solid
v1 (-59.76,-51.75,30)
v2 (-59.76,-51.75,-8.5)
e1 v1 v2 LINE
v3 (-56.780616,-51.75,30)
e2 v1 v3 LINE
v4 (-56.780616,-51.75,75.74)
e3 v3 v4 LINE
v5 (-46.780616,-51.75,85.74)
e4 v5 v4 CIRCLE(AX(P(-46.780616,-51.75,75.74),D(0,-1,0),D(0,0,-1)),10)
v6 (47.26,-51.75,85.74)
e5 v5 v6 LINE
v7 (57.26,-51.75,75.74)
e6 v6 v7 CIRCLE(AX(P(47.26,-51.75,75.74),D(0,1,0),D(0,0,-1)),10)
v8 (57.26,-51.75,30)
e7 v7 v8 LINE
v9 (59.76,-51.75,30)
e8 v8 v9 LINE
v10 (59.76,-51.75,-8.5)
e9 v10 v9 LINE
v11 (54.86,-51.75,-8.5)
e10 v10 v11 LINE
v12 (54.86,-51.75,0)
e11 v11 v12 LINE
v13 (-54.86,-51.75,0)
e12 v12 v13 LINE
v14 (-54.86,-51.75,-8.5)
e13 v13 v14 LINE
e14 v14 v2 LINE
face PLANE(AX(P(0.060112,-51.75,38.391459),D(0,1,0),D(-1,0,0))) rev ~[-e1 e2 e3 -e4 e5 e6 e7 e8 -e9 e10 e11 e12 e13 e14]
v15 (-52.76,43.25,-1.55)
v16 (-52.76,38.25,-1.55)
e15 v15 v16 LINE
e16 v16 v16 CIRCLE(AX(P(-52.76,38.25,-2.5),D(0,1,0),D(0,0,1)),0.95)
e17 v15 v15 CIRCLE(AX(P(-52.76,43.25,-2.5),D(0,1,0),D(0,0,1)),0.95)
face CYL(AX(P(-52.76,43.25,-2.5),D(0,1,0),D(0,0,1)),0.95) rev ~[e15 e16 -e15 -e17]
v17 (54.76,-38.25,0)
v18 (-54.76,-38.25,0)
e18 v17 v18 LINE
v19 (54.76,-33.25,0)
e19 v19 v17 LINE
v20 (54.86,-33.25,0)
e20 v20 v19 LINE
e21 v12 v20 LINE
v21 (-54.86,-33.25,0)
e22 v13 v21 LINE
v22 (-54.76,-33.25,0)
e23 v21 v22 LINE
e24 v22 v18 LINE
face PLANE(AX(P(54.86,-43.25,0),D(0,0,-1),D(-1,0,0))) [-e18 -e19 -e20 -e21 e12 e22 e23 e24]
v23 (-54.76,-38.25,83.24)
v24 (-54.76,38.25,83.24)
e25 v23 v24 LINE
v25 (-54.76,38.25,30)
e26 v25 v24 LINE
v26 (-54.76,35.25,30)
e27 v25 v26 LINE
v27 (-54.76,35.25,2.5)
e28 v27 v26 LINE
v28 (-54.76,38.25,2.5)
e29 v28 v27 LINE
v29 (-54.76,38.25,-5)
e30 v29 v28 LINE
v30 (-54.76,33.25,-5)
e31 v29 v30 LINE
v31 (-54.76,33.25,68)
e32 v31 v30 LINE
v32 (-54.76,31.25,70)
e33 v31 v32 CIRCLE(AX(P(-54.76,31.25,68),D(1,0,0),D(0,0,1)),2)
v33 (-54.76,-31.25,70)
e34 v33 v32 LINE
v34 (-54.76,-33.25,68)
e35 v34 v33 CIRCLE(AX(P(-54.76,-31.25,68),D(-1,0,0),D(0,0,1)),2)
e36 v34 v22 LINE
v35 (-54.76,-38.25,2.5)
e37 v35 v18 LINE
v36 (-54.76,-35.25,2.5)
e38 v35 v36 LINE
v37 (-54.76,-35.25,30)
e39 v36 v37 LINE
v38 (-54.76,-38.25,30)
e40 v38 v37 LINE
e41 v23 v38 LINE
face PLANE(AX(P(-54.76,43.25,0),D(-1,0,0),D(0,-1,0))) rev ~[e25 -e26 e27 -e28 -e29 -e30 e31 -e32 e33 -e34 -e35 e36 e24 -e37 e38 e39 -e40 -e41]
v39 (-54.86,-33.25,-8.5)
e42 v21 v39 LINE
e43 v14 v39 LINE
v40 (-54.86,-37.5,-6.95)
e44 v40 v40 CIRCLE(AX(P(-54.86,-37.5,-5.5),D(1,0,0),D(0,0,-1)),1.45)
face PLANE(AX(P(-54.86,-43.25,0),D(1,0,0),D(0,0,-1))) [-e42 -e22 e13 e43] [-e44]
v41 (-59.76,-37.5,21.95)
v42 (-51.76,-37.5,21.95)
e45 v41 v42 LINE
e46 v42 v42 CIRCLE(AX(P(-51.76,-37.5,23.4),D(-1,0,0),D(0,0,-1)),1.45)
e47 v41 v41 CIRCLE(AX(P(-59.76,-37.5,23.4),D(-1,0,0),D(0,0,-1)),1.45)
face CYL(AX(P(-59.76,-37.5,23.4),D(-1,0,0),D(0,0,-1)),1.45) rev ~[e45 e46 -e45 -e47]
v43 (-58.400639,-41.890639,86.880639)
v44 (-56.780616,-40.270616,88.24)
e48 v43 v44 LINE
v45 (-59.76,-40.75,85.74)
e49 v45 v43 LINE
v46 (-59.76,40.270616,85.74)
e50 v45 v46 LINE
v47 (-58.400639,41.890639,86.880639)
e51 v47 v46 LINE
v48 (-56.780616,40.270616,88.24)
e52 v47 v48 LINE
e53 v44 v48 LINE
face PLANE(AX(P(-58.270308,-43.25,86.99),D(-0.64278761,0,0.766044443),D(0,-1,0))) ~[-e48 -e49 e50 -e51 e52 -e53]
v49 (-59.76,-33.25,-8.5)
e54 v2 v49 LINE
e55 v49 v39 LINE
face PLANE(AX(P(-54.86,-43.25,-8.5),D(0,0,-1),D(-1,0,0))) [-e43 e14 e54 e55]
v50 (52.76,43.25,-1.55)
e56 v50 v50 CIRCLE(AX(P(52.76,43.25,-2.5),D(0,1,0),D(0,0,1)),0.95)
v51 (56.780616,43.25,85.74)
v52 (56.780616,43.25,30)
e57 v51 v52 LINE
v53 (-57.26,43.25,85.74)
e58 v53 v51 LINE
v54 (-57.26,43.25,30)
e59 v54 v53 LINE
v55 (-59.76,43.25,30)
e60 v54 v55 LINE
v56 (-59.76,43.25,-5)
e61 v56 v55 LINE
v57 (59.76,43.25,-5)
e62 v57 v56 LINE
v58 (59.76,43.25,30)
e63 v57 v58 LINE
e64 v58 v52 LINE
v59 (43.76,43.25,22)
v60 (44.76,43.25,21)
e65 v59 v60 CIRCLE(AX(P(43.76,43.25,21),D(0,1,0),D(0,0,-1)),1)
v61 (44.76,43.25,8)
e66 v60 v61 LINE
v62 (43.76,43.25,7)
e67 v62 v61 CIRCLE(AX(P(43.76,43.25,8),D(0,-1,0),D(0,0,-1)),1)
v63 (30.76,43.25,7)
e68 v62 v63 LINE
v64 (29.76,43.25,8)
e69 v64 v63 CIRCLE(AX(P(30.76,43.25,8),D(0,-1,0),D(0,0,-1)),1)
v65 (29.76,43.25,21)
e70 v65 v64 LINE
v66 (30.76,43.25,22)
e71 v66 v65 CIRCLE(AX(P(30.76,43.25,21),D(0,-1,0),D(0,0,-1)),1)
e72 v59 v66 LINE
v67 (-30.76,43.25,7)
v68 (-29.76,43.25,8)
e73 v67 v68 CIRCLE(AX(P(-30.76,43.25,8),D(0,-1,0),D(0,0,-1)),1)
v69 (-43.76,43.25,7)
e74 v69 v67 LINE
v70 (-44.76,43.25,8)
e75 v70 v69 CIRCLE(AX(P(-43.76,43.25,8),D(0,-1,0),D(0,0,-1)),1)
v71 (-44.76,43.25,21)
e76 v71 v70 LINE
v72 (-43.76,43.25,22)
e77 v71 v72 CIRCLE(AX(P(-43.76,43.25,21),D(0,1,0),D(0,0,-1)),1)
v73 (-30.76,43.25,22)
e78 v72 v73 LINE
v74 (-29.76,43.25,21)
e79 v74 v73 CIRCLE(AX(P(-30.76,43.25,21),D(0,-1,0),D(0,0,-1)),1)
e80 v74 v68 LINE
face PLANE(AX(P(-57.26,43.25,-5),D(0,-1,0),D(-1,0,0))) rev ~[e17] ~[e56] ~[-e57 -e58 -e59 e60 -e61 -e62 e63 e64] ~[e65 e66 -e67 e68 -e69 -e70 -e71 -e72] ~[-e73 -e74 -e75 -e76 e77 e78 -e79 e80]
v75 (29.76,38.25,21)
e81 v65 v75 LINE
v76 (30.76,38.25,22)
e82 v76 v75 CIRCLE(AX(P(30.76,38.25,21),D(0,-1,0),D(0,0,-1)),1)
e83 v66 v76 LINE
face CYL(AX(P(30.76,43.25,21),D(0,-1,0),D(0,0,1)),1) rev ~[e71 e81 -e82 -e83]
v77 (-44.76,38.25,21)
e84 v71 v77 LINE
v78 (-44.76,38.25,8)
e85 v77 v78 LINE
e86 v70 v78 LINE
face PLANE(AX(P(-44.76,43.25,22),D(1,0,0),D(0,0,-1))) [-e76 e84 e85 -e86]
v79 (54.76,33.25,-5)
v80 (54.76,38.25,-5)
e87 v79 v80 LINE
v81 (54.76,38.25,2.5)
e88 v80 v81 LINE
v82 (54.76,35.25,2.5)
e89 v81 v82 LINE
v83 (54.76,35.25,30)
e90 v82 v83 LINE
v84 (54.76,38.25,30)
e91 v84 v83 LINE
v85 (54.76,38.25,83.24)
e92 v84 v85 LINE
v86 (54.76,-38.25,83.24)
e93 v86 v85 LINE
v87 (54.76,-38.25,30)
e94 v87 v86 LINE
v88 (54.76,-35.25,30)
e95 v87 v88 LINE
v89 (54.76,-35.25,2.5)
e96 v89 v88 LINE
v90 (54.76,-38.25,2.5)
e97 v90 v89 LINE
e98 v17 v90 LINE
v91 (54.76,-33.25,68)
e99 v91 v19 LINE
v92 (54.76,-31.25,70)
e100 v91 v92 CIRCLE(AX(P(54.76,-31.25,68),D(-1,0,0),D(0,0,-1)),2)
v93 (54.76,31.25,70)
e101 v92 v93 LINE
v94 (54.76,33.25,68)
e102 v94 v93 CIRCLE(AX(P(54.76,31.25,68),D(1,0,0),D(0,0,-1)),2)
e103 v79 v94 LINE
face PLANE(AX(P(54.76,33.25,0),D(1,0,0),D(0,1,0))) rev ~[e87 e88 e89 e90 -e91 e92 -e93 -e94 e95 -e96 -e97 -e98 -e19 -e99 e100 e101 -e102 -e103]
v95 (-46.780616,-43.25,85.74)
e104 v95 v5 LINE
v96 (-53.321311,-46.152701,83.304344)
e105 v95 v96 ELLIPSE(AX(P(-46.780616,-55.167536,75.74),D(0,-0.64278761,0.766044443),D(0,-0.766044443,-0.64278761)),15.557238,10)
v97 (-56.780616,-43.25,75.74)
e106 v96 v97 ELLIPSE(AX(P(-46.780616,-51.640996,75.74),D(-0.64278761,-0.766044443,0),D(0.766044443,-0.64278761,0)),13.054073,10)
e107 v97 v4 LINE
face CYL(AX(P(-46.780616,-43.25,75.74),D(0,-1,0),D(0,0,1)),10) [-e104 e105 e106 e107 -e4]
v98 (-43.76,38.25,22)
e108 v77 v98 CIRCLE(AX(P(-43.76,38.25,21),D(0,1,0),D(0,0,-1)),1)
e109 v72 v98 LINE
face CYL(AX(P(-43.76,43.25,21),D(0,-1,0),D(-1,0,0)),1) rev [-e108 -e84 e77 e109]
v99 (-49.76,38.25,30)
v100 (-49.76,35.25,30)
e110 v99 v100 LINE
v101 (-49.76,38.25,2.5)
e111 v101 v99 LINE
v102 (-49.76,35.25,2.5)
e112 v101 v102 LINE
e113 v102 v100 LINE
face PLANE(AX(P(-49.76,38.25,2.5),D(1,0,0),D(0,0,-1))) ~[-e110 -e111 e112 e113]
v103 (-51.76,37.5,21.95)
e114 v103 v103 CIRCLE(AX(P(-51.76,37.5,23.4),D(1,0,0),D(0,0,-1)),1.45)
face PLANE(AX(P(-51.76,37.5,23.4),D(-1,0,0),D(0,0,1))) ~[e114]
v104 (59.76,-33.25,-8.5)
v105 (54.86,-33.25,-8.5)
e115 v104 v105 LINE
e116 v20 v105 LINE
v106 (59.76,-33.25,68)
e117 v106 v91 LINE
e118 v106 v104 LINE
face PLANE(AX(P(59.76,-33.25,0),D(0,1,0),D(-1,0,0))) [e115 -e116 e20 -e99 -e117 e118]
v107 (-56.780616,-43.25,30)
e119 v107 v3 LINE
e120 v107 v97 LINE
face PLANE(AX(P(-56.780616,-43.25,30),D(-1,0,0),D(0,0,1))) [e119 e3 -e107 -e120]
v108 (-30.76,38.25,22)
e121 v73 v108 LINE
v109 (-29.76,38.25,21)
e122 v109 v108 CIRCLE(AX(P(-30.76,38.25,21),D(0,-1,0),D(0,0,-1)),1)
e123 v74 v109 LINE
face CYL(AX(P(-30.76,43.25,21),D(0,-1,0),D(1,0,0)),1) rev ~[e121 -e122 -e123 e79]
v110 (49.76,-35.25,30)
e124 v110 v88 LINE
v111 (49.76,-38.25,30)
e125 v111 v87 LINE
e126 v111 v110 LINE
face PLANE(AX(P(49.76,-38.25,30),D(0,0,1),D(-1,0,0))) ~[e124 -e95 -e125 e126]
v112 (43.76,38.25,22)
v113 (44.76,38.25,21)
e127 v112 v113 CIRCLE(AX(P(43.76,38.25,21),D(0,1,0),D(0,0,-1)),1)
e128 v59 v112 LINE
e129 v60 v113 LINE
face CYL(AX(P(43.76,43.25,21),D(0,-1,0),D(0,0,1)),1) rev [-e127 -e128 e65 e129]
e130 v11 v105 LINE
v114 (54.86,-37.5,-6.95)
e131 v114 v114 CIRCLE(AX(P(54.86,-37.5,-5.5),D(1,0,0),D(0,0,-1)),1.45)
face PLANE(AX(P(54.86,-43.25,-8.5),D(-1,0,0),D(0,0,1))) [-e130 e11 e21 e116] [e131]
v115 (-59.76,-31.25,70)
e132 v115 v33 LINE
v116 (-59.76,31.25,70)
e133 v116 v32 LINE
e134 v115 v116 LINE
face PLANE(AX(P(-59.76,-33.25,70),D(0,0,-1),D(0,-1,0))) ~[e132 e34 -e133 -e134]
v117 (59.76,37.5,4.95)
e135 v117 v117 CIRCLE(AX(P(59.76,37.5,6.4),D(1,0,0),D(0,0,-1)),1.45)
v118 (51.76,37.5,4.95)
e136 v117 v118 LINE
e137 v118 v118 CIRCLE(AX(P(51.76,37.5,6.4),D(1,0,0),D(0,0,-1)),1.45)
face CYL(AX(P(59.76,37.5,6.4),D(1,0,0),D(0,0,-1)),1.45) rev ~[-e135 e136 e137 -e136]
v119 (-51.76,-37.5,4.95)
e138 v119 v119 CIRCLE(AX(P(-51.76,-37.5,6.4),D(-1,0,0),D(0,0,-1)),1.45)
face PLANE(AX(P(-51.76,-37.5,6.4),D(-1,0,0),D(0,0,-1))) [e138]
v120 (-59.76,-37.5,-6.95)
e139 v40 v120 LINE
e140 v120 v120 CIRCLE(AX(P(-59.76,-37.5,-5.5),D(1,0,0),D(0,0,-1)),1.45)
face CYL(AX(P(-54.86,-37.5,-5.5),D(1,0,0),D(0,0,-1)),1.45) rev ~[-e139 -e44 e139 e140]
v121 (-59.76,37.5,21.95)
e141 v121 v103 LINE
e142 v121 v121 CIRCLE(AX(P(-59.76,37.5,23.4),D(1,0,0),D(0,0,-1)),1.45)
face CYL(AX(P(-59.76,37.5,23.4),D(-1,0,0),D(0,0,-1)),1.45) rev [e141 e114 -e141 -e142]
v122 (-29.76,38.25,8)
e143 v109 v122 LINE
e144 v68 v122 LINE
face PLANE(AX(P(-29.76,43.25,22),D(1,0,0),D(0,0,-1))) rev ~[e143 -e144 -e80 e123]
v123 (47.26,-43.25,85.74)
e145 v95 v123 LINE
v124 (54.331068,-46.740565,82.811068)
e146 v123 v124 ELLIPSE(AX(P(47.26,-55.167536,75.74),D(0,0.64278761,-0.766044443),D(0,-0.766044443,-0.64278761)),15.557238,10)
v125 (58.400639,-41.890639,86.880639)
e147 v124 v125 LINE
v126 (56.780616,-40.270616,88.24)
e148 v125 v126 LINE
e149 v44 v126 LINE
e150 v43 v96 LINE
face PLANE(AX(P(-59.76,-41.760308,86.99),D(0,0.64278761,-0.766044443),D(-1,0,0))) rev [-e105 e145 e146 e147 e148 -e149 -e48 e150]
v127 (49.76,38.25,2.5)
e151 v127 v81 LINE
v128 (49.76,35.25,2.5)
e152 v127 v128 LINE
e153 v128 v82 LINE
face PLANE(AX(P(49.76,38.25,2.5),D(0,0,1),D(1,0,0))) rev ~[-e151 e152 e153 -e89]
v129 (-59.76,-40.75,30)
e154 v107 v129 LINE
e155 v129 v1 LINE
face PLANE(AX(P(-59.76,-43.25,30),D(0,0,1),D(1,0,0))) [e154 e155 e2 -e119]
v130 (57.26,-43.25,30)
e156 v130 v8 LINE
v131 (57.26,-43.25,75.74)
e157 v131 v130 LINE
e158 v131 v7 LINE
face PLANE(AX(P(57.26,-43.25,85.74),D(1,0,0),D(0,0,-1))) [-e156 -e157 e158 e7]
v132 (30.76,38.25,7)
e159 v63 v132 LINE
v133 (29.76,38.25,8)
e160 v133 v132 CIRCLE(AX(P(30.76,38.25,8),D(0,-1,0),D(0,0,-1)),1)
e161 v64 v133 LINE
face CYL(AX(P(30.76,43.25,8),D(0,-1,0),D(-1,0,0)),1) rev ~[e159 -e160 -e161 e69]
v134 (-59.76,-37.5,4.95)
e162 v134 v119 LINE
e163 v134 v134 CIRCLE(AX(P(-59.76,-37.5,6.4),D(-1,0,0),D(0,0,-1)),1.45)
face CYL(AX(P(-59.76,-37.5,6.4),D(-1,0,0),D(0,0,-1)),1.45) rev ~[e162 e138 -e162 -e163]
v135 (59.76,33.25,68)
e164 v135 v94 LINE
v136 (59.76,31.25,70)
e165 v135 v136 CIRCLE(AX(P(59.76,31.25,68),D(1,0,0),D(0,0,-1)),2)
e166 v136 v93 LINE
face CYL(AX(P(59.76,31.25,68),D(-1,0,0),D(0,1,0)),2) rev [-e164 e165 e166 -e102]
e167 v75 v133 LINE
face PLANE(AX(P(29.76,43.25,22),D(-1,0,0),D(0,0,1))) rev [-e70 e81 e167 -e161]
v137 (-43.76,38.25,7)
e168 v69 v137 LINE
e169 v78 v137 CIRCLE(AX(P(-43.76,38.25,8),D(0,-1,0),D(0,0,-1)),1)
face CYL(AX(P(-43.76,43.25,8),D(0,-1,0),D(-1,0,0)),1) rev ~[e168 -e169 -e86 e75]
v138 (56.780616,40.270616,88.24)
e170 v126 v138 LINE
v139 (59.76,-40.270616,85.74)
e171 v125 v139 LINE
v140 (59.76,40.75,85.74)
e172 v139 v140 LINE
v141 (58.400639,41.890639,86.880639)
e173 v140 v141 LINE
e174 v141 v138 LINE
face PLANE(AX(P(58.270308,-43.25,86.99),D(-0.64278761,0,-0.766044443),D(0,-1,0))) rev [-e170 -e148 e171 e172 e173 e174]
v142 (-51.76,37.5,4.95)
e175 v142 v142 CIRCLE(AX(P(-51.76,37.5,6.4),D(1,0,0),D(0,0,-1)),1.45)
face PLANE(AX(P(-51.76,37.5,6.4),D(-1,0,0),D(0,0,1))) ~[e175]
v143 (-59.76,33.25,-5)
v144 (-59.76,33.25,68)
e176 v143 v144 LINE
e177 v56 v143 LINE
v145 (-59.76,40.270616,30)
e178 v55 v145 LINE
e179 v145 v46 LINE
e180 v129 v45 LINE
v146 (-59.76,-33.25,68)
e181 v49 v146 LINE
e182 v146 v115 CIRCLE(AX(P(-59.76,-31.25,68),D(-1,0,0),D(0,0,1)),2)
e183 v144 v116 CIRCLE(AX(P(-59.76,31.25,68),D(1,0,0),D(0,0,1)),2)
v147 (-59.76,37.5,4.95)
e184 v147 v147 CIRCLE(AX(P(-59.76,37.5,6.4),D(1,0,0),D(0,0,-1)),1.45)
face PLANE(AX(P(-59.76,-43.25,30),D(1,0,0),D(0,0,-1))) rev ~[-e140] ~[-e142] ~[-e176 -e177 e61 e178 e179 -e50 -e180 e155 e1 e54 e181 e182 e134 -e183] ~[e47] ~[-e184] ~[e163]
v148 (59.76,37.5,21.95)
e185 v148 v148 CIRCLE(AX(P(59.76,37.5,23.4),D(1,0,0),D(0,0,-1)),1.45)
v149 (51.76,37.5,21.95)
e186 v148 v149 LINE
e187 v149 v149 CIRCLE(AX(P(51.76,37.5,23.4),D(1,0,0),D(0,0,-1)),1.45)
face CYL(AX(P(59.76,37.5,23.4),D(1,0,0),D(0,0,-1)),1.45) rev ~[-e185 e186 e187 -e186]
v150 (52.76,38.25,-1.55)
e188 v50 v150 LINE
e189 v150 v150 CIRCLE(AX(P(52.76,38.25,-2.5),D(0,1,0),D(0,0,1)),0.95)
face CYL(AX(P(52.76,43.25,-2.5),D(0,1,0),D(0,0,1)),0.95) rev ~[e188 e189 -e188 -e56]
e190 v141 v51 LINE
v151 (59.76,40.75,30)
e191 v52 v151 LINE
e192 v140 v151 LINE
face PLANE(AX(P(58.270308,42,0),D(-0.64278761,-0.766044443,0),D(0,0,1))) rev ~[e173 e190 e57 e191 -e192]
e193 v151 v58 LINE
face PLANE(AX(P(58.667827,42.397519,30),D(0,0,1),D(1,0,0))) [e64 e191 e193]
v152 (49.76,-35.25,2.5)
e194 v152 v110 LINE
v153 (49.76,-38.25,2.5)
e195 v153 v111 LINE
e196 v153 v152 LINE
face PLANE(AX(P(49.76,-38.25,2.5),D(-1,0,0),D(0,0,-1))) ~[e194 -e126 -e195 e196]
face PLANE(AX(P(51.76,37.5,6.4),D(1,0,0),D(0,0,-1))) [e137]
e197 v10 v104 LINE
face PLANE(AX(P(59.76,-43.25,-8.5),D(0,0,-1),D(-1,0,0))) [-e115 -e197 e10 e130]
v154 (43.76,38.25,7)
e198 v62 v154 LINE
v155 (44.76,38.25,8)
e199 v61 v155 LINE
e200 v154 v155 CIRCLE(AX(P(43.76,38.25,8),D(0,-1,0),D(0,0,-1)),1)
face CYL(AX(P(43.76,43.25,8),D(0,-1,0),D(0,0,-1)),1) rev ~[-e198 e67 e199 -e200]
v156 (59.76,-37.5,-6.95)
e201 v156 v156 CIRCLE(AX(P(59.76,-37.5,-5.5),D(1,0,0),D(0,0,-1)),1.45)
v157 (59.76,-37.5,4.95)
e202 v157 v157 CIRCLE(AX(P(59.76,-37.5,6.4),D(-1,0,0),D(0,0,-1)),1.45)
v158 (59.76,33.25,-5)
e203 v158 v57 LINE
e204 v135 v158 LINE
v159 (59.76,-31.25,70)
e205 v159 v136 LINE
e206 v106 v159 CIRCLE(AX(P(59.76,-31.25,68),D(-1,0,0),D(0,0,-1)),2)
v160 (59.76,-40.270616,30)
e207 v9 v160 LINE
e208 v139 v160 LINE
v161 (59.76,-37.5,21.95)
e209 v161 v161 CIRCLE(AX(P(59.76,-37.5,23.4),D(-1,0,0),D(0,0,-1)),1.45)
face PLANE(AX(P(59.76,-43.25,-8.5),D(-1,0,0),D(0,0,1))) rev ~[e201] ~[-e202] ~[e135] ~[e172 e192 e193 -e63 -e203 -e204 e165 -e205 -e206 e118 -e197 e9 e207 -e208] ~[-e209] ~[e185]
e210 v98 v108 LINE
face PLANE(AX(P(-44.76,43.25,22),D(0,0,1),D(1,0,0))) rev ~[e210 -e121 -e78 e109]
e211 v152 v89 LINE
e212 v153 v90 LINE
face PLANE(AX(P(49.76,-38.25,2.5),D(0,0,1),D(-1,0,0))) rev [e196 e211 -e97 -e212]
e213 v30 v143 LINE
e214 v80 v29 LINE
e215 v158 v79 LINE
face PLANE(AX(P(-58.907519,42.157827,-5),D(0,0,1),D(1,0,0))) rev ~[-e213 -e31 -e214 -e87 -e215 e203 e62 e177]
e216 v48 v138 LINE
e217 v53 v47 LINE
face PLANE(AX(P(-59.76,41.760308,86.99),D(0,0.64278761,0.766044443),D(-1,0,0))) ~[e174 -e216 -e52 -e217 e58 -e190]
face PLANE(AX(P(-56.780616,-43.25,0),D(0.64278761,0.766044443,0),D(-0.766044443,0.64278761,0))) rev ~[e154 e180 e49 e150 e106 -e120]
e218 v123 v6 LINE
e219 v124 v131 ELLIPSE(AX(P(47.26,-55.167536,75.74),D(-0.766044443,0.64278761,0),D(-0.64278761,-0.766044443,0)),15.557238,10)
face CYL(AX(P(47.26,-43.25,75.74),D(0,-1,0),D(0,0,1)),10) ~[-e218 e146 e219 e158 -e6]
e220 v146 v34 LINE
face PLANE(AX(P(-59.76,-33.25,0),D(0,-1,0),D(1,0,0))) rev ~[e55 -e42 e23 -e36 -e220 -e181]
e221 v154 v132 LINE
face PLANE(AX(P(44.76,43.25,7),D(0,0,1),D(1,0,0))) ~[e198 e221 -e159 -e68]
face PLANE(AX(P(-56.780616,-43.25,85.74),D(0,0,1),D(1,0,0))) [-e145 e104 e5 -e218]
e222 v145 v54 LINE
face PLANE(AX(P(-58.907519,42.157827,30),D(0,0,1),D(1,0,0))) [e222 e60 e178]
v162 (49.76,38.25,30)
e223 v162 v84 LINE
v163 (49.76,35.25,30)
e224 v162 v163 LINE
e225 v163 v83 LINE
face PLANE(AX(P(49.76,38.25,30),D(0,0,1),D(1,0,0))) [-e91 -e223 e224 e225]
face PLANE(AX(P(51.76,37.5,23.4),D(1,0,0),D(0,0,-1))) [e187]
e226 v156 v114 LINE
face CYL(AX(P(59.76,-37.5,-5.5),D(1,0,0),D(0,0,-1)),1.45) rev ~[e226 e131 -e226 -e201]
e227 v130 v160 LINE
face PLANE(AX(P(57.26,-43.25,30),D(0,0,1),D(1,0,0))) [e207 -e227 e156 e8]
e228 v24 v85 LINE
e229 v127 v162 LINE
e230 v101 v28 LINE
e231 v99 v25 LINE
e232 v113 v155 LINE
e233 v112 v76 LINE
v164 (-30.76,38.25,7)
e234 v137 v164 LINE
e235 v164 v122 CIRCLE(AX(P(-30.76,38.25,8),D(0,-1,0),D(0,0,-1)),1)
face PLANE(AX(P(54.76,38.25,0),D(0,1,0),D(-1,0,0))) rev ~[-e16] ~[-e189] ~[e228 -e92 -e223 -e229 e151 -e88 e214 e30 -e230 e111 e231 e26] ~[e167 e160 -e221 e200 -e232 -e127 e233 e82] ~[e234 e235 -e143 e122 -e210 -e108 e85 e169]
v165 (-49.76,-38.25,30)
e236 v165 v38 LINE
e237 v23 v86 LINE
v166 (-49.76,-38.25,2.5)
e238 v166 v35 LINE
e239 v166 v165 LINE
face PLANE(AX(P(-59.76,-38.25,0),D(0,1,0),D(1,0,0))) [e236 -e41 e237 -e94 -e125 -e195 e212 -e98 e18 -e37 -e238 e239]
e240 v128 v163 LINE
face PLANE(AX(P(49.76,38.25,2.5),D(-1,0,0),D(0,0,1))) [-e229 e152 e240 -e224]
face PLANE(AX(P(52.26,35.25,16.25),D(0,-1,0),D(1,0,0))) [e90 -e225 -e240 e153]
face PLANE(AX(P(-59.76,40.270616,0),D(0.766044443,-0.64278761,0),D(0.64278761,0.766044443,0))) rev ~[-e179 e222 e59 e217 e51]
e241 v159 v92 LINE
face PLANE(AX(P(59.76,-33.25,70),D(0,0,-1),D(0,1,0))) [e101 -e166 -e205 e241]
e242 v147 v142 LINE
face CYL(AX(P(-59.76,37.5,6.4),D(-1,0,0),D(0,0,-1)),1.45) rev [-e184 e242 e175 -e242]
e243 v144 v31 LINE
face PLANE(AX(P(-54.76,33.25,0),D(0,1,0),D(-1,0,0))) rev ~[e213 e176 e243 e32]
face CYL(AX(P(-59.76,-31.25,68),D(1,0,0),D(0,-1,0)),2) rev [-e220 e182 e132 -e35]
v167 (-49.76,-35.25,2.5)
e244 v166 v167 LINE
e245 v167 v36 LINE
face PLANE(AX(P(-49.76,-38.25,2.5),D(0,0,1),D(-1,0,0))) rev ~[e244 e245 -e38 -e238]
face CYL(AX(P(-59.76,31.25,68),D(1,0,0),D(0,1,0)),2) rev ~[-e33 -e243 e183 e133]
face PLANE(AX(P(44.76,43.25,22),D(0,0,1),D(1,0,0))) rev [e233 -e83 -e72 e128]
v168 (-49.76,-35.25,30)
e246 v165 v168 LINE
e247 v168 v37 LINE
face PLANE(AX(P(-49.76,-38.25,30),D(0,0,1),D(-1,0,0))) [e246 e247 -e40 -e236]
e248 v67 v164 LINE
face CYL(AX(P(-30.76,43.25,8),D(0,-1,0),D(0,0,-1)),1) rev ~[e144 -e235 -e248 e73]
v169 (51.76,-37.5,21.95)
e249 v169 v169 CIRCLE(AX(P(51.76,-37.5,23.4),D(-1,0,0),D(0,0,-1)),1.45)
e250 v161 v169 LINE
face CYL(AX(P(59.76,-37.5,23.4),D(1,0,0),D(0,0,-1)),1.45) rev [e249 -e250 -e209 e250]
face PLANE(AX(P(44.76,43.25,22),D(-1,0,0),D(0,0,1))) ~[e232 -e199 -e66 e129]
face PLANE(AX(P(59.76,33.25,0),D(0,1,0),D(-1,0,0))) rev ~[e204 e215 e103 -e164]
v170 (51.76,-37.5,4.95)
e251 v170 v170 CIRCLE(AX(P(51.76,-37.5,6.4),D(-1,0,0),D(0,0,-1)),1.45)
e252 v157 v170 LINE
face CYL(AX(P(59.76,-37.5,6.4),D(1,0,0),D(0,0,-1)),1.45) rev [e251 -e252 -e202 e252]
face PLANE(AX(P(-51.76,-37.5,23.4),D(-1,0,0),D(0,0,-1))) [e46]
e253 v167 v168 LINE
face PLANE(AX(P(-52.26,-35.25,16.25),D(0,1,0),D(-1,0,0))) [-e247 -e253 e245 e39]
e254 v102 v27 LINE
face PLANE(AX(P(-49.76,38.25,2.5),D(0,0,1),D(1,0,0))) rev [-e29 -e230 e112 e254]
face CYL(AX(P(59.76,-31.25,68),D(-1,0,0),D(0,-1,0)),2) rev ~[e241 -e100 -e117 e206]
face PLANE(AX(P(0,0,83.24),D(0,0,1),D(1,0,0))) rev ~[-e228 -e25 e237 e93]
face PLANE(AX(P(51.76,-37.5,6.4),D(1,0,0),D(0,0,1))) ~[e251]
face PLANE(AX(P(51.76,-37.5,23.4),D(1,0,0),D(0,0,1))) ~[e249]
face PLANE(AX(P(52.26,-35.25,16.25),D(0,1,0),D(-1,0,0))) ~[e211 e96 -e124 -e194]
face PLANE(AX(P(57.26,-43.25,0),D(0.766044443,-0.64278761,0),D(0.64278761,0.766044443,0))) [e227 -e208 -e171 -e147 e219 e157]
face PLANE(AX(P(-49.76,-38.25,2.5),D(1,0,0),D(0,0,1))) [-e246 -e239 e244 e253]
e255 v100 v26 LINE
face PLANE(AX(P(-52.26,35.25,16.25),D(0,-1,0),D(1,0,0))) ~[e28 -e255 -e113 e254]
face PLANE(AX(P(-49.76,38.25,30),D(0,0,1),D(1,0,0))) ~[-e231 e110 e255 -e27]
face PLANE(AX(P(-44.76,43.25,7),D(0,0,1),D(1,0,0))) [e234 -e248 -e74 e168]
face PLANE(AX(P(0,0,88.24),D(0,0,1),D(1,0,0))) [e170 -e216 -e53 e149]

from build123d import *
from OCP.BRepFilletAPI import BRepFilletAPI_MakeChamfer

# Parameters (mm, degrees)
SKETCH1_W                                  = 119.52
SKETCH1_H                                  = 86.5
BOSS_EXTRUDE1_DEPTH                        = 88.24
SHELL1_T                                   = -5
CHAMFER1_SIZE                              = 2.5
CHAMFER1_SIZE2                             = 2.979383981
CHAMFER2_SIZE                              = 2.5
CHAMFER2_SIZE2                             = 2.979383981
CHAMFER3_SIZE                              = 2.5
CHAMFER3_SIZE2                             = 2.979383981
CUT_EXTRUDE1_REACH                         = 156.732
SKETCH3_W                                  = 70
SKETCH3_H                                  = 66.5
FILLET1_R                                  = 2
FILLET1_OF_MIRROR1_R                       = 2
SKETCH4_W                                  = 109.52
SKETCH4_H                                  = 5
BOSS_EXTRUDE2_DEPTH                        = 5
CUT_EXTRUDE2_REACH                         = 139.258
SKETCH5_R                                  = 0.95
BOSS_EXTRUDE3_DEPTH                        = 8.5
BOSS_EXTRUDE4_DEPTH                        = 5
BOSS_EXTRUDE6_DEPTH                        = 35
BOSS_EXTRUDE7_DEPTH                        = 8.5
BOSS_EXTRUDE8_DEPTH                        = 35
BOSS_EXTRUDE9_DEPTH                        = 38.5
SKETCH16_W                                 = 5
SKETCH16_H                                 = 27.5
BOSS_EXTRUDE10_DEPTH                       = 3
MIRROR7_COPY_1_SKETCH_W                    = 5
MIRROR7_COPY_1_SKETCH_H                    = 27.5
MIRROR7_COPY_1_DEPTH                       = 3
SKETCH15_R                                 = 1.45
CUT_EXTRUDE5_DEPTH                         = 8
MIRROR8_AT_THE_SECOND_PLANE_COPY_1_SKETC_R = 1.45
MIRROR8_AT_THE_SECOND_PLANE_COPY_1_DEPTH   = 8
SKETCH17_R                                 = 1.45
CUT_EXTRUDE6_DEPTH                         = 8
SKETCH18_R                                 = 1.45
CUT_EXTRUDE7_DEPTH                         = 8
SKETCH19_W                                 = 15
SKETCH19_H                                 = 15
CUT_EXTRUDE8_DEPTH                         = 5
FILLET2_R                                  = 1
FILLET2_OF_MIRROR10_R                      = 1
BOSS_EXTRUDE11_DEPTH                       = 8.5
FILLET3_R                                  = 10


with BuildPart() as part:
    # Sketch1 → Boss-Extrude1 (new body)
    with BuildSketch(Plane.XY):
        Rectangle(SKETCH1_W, SKETCH1_H)
    extrude(amount=BOSS_EXTRUDE1_DEPTH)

    # Shell1
    shell1_openings = [part.faces().sort_by_distance(p)[0] for p in [
        (0, 0, 0),
    ]]
    offset(amount=SHELL1_T, openings=shell1_openings, kind=Kind.INTERSECTION)

    # Chamfer1: one chamfer whose edges measure the first distance from different faces: ONE call of the kernel's chamfer builder (chamfer() names one face for all edges)
    chamfer1_edges_1 = [part.edges().sort_by_distance(p)[0] for p in [
        (59.76, 0, 88.24),
    ]]
    chamfer1_side_1 = [part.faces().sort_by_distance(p)[0] for p in [
        (59.76, 0, 44.12),
    ]]
    chamfer1_edges_2 = [part.edges().sort_by_distance(p)[0] for p in [
        (0, 43.25, 88.24),
    ]]
    chamfer1_side_2 = [part.faces().sort_by_distance(p)[0] for p in [
        (0, 43.25, 44.12),
    ]]
    chamfer1_edges_3 = [part.edges().sort_by_distance(p)[0] for p in [
        (-59.76, 0, 88.24),
    ]]
    chamfer1_side_3 = [part.faces().sort_by_distance(p)[0] for p in [
        (-59.76, 0, 44.12),
    ]]
    chamfer1_edges_4 = [part.edges().sort_by_distance(p)[0] for p in [
        (0, -43.25, 88.24),
    ]]
    chamfer1_side_4 = [part.faces().sort_by_distance(p)[0] for p in [
        (0, -43.25, 44.12),
    ]]
    chamfer1 = BRepFilletAPI_MakeChamfer(part.part.solid().wrapped)
    for e in chamfer1_edges_1:
        chamfer1.Add(CHAMFER1_SIZE, CHAMFER1_SIZE2, e.wrapped, chamfer1_side_1[0].wrapped)  # the first distance lies on this face
    for e in chamfer1_edges_2:
        chamfer1.Add(CHAMFER1_SIZE, CHAMFER1_SIZE2, e.wrapped, chamfer1_side_2[0].wrapped)  # the first distance lies on this face
    for e in chamfer1_edges_3:
        chamfer1.Add(CHAMFER1_SIZE, CHAMFER1_SIZE2, e.wrapped, chamfer1_side_3[0].wrapped)  # the first distance lies on this face
    for e in chamfer1_edges_4:
        chamfer1.Add(CHAMFER1_SIZE, CHAMFER1_SIZE2, e.wrapped, chamfer1_side_4[0].wrapped)  # the first distance lies on this face
    add(Compound.cast(chamfer1.Shape()), mode=Mode.REPLACE)

    # Chamfer2
    chamfer2_edges = [part.edges().sort_by_distance(p)[0] for p in [
        (-59.76, 43.25, 42.87),
    ]]
    chamfer2_side = [part.faces().sort_by_distance(p)[0] for p in [
        (0, 43.25, 42.87),
    ]]
    chamfer(chamfer2_edges, length=CHAMFER2_SIZE, length2=CHAMFER2_SIZE2, reference=chamfer2_side[0])

    # Chamfer3: one chamfer whose edges measure the first distance from different faces: ONE call of the kernel's chamfer builder (chamfer() names one face for all edges)
    chamfer3_edges_1 = [part.edges().sort_by_distance(p)[0] for p in [
        (59.76, -43.25, 42.87),
    ]]
    chamfer3_side_1 = [part.faces().sort_by_distance(p)[0] for p in [
        (0, -43.25, 42.87),
    ]]
    chamfer3_edges_2 = [part.edges().sort_by_distance(p)[0] for p in [
        (-59.76, -43.25, 42.87),
    ]]
    chamfer3_side_2 = [part.faces().sort_by_distance(p)[0] for p in [
        (-59.76, -1.489691991, 42.87),
    ]]
    chamfer3_edges_3 = [part.edges().sort_by_distance(p)[0] for p in [
        (59.76, 43.25, 42.87),
    ]]
    chamfer3_side_3 = [part.faces().sort_by_distance(p)[0] for p in [
        (59.76, 0, 42.87),
    ]]
    chamfer3 = BRepFilletAPI_MakeChamfer(part.part.solid().wrapped)
    for e in chamfer3_edges_1:
        chamfer3.Add(CHAMFER3_SIZE, CHAMFER3_SIZE2, e.wrapped, chamfer3_side_1[0].wrapped)  # the first distance lies on this face
    for e in chamfer3_edges_2:
        chamfer3.Add(CHAMFER3_SIZE, CHAMFER3_SIZE2, e.wrapped, chamfer3_side_2[0].wrapped)  # the first distance lies on this face
    for e in chamfer3_edges_3:
        chamfer3.Add(CHAMFER3_SIZE, CHAMFER3_SIZE2, e.wrapped, chamfer3_side_3[0].wrapped)  # the first distance lies on this face
    add(Compound.cast(chamfer3.Shape()), mode=Mode.REPLACE)

    # Sketch3 → Cut-Extrude1 (cut, up to next)
    with BuildSketch(Plane(origin=(59.76, 0, 0), x_dir=(0, 0, -1), z_dir=(1, 0, 0)), mode=Mode.PRIVATE) as cut_extrude1_sk1:
        with Locations((-35, 0)):
            Rectangle(SKETCH3_W, SKETCH3_H)
    cut_extrude1_tool1 = extrude(cut_extrude1_sk1.sketch, amount=-CUT_EXTRUDE1_REACH, mode=Mode.PRIVATE) & part.part
    cut_extrude1 = cut_extrude1_tool1.solids().sort_by_distance((59.76, 0, 35))[0]
    add(cut_extrude1, mode=Mode.SUBTRACT)

    # Fillet1
    fillet1_edges = [part.edges().sort_by_distance(p)[0] for p in [
        (57.26, -33.25, 70),
        (57.26, 33.25, 70),
    ]]
    fillet(fillet1_edges, radius=FILLET1_R)

    # Mirror1: Cut-Extrude1 across plane
    add(cut_extrude1.mirror(Plane(origin=(0, 0, 0), x_dir=(0, 0, 1), z_dir=(1, 0, 0))), mode=Mode.SUBTRACT)

    # Fillet1 of Mirror1
    fillet1_of_mirror1_edges = [part.edges().sort_by_distance(p)[0] for p in [
        (-57.26, -33.25, 70),
        (-57.26, 33.25, 70),
    ]]
    fillet(fillet1_of_mirror1_edges, radius=FILLET1_OF_MIRROR1_R)

    # Sketch4 → Boss-Extrude2 (add)
    with BuildSketch(Plane(origin=(0, 0, 0), x_dir=(-1, 0, 0), z_dir=(0, 0, -1))):
        with Locations((0, 40.75)):
            Rectangle(SKETCH4_W, SKETCH4_H)
    extrude(amount=BOSS_EXTRUDE2_DEPTH)

    # Sketch5 → Cut-Extrude2 (cut, up to next)
    with BuildSketch(Plane(origin=(0, 43.25, 0), x_dir=(1, 0, 0), z_dir=(0, 1, 0)), mode=Mode.PRIVATE) as cut_extrude2_sk1:
        with Locations(Location((-52.76, 2.5, 0), (0, 0, 270))):
            Circle(SKETCH5_R)
    cut_extrude2_tool1 = extrude(cut_extrude2_sk1.sketch, amount=-CUT_EXTRUDE2_REACH, mode=Mode.PRIVATE) & part.part
    # Sketch5 → Cut-Extrude2 (cut, up to next)
    with BuildSketch(Plane(origin=(0, 43.25, 0), x_dir=(1, 0, 0), z_dir=(0, 1, 0)), mode=Mode.PRIVATE) as cut_extrude2_sk2:
        with Locations(Location((52.76, 2.5, 0), (0, 0, 270))):
            Circle(SKETCH5_R)
    cut_extrude2_tool2 = extrude(cut_extrude2_sk2.sketch, amount=-CUT_EXTRUDE2_REACH, mode=Mode.PRIVATE) & part.part
    add(cut_extrude2_tool1.solids().sort_by_distance((-52.76, 43.25, -2.5))[0], mode=Mode.SUBTRACT)
    add(cut_extrude2_tool2.solids().sort_by_distance((52.76, 43.25, -2.5))[0], mode=Mode.SUBTRACT)

    # Sketch6 → Boss-Extrude3 (add)
    with BuildSketch(Plane(origin=(0, 0, 0), x_dir=(-1, 0, 0), z_dir=(0, 0, -1))):
        Polygon((-59.76, -33.25), (-54.86, -33.25), (-54.86, -43.25), (-57.26, -43.25), (-59.76, -40.270616019), align=None)
    extrude(amount=BOSS_EXTRUDE3_DEPTH)

    # Sketch8 → Boss-Extrude4 (add)
    with BuildSketch(Plane(origin=(0, 0, 0), x_dir=(-1, 0, 0), z_dir=(0, 0, -1))):
        Polygon((57.26, 43.25), (54.76, 43.25), (54.76, 38.25), (54.76, 33.25), (59.76, 33.25), (59.76, 40.270616019), align=None)
        Polygon((-54.76, 33.25), (-54.76, 38.25), (-54.76, 43.25), (-56.780616019, 43.25), (-59.76, 40.75), (-59.76, 33.25), align=None)
    extrude(amount=BOSS_EXTRUDE4_DEPTH)

    # Sketch10 → Boss-Extrude6 (add)
    with BuildSketch(Plane(origin=(0, 0, -5), x_dir=(-1, 0, 0), z_dir=(0, 0, -1))):
        Polygon((-59.76, 40.75), (-59.76, 43.25), (-56.780616019, 43.25), align=None)
    extrude(amount=-BOSS_EXTRUDE6_DEPTH)

    # Sketch11 → Boss-Extrude7 (add)
    with BuildSketch(Plane(origin=(0, 0, 0), x_dir=(-1, 0, 0), z_dir=(0, 0, -1))):
        Polygon((59.76, -33.25), (54.86, -33.25), (54.86, -43.25), (56.780616019, -43.25), (59.76, -40.75), align=None)
    extrude(amount=BOSS_EXTRUDE7_DEPTH)

    # Sketch13 → Boss-Extrude8 (add)
    with BuildSketch(Plane(origin=(0, 0, -5), x_dir=(-1, 0, 0), z_dir=(0, 0, -1))):
        Polygon((57.26, 43.25), (59.76, 43.25), (59.76, 40.270616019), align=None)
    extrude(amount=-BOSS_EXTRUDE8_DEPTH)

    # Sketch14 → Boss-Extrude9 (add)
    with BuildSketch(Plane(origin=(0, 0, -8.5), x_dir=(-1, 0, 0), z_dir=(0, 0, -1))):
        Polygon((-59.76, -40.270616019), (-59.76, -43.25), (-57.26, -43.25), align=None)
        Polygon((59.76, -40.75), (59.76, -43.25), (56.780616019, -43.25), align=None)
    extrude(amount=-BOSS_EXTRUDE9_DEPTH)

    # Sketch16 → Boss-Extrude10 (add)
    with BuildSketch(Plane.XZ.offset(-38.25)):
        with Locations((52.26, 16.25)):
            Rectangle(SKETCH16_W, SKETCH16_H)
    boss_extrude10 = extrude(amount=BOSS_EXTRUDE10_DEPTH)

    # Mirror6: Boss-Extrude10 across plane
    add(boss_extrude10.mirror(Plane(origin=(0, 0, 0), x_dir=(0, 0, 1), z_dir=(1, 0, 0))))

    # Mirror7: Boss-Extrude10 across plane
    add(boss_extrude10.mirror(Plane.ZX))

    # Mirror7 copy 1 sketch → Mirror7 copy 1 (add)
    with BuildSketch(Plane(origin=(0, -38.25, 0), x_dir=(-1, 0, 0), z_dir=(0, 1, 0))):
        with Locations((52.26, 16.25)):
            Rectangle(MIRROR7_COPY_1_SKETCH_W, MIRROR7_COPY_1_SKETCH_H)
    extrude(amount=MIRROR7_COPY_1_DEPTH)

    # Sketch15 → Cut-Extrude5 (cut)
    with BuildSketch(Plane(origin=(59.76, 0, 0), x_dir=(0, 0, -1), z_dir=(1, 0, 0))):
        with Locations((-6.4, 37.5)):
            Circle(SKETCH15_R)
        with Locations((-23.4, 37.5)):
            Circle(SKETCH15_R)
    cut_extrude5 = extrude(amount=-CUT_EXTRUDE5_DEPTH, mode=Mode.SUBTRACT)

    # Mirror8: Cut-Extrude5 across plane
    add(cut_extrude5.mirror(Plane.ZX), mode=Mode.SUBTRACT)

    # Mirror8 at the second plane: Cut-Extrude5 across plane
    add(cut_extrude5.mirror(Plane(origin=(0, 0, 0), x_dir=(0, 0, 1), z_dir=(1, 0, 0))), mode=Mode.SUBTRACT)

    # Mirror8 at the second plane copy 1 sketc → Mirror8 at the second plane copy 1 (cut)
    with BuildSketch(Plane(origin=(-59.76, 0, 0), x_dir=(0, 0, -1), z_dir=(-1, 0, 0))):
        with Locations((-6.4, 37.5)):
            Circle(MIRROR8_AT_THE_SECOND_PLANE_COPY_1_SKETC_R)
        with Locations((-23.4, 37.5)):
            Circle(MIRROR8_AT_THE_SECOND_PLANE_COPY_1_SKETC_R)
    extrude(amount=-MIRROR8_AT_THE_SECOND_PLANE_COPY_1_DEPTH, mode=Mode.SUBTRACT)

    # Sketch17 → Cut-Extrude6 (cut)
    with BuildSketch(Plane(origin=(59.76, 0, 0), x_dir=(0, 0, -1), z_dir=(1, 0, 0))):
        with Locations((5.5, -37.5)):
            Circle(SKETCH17_R)
    extrude(amount=-CUT_EXTRUDE6_DEPTH, mode=Mode.SUBTRACT)

    # Sketch18 → Cut-Extrude7 (cut)
    with BuildSketch(Plane(origin=(-54.86, 0, 0), x_dir=(0, 0, -1), z_dir=(1, 0, 0))):
        with Locations((5.5, -37.5)):
            Circle(SKETCH18_R)
    extrude(amount=-CUT_EXTRUDE7_DEPTH, mode=Mode.SUBTRACT)

    # Sketch19 → Cut-Extrude8 (cut)
    with BuildSketch(Plane(origin=(0, 43.25, 0), x_dir=(1, 0, 0), z_dir=(0, 1, 0))):
        with Locations((-37.26, -14.5)):
            Rectangle(SKETCH19_W, SKETCH19_H)
    cut_extrude8 = extrude(amount=-CUT_EXTRUDE8_DEPTH, mode=Mode.SUBTRACT)

    # Fillet2
    fillet2_edges = [part.edges().sort_by_distance(p)[0] for p in [
        (-44.76, 40.75, 22),
        (-44.76, 40.75, 7),
        (-29.76, 40.75, 7),
        (-29.76, 40.75, 22),
    ]]
    fillet(fillet2_edges, radius=FILLET2_R)

    # Mirror10: Cut-Extrude8 across plane
    add(cut_extrude8.mirror(Plane(origin=(0, 0, 0), x_dir=(0, 0, 1), z_dir=(1, 0, 0))), mode=Mode.SUBTRACT)

    # Fillet2 of Mirror10
    fillet2_of_mirror10_edges = [part.edges().sort_by_distance(p)[0] for p in [
        (44.76, 40.75, 22),
        (44.76, 40.75, 7),
        (29.76, 40.75, 7),
        (29.76, 40.75, 22),
    ]]
    fillet(fillet2_of_mirror10_edges, radius=FILLET2_OF_MIRROR10_R)

    # Sketch20 → Boss-Extrude11 (add)
    with BuildSketch(Plane.XZ.offset(43.25)):
        Polygon((-56.780616019, 85.74), (57.26, 85.74), (57.26, 30), (59.76, 30), (59.76, 0), (59.76, -8.5), (54.86, -8.5), (54.86, 0), (-54.86, 0), (-54.86, -8.5), (-59.76, -8.5), (-59.76, 0), (-59.76, 30), (-56.780616019, 30), align=None)
    extrude(amount=BOSS_EXTRUDE11_DEPTH)

    # Fillet3
    fillet3_edges = [part.edges().sort_by_distance(p)[0] for p in [
        (-56.780616019, -47.5, 85.74),
        (57.26, -47.5, 85.74),
    ]]
    fillet(fillet3_edges, radius=FILLET3_R)


solid = part.part
